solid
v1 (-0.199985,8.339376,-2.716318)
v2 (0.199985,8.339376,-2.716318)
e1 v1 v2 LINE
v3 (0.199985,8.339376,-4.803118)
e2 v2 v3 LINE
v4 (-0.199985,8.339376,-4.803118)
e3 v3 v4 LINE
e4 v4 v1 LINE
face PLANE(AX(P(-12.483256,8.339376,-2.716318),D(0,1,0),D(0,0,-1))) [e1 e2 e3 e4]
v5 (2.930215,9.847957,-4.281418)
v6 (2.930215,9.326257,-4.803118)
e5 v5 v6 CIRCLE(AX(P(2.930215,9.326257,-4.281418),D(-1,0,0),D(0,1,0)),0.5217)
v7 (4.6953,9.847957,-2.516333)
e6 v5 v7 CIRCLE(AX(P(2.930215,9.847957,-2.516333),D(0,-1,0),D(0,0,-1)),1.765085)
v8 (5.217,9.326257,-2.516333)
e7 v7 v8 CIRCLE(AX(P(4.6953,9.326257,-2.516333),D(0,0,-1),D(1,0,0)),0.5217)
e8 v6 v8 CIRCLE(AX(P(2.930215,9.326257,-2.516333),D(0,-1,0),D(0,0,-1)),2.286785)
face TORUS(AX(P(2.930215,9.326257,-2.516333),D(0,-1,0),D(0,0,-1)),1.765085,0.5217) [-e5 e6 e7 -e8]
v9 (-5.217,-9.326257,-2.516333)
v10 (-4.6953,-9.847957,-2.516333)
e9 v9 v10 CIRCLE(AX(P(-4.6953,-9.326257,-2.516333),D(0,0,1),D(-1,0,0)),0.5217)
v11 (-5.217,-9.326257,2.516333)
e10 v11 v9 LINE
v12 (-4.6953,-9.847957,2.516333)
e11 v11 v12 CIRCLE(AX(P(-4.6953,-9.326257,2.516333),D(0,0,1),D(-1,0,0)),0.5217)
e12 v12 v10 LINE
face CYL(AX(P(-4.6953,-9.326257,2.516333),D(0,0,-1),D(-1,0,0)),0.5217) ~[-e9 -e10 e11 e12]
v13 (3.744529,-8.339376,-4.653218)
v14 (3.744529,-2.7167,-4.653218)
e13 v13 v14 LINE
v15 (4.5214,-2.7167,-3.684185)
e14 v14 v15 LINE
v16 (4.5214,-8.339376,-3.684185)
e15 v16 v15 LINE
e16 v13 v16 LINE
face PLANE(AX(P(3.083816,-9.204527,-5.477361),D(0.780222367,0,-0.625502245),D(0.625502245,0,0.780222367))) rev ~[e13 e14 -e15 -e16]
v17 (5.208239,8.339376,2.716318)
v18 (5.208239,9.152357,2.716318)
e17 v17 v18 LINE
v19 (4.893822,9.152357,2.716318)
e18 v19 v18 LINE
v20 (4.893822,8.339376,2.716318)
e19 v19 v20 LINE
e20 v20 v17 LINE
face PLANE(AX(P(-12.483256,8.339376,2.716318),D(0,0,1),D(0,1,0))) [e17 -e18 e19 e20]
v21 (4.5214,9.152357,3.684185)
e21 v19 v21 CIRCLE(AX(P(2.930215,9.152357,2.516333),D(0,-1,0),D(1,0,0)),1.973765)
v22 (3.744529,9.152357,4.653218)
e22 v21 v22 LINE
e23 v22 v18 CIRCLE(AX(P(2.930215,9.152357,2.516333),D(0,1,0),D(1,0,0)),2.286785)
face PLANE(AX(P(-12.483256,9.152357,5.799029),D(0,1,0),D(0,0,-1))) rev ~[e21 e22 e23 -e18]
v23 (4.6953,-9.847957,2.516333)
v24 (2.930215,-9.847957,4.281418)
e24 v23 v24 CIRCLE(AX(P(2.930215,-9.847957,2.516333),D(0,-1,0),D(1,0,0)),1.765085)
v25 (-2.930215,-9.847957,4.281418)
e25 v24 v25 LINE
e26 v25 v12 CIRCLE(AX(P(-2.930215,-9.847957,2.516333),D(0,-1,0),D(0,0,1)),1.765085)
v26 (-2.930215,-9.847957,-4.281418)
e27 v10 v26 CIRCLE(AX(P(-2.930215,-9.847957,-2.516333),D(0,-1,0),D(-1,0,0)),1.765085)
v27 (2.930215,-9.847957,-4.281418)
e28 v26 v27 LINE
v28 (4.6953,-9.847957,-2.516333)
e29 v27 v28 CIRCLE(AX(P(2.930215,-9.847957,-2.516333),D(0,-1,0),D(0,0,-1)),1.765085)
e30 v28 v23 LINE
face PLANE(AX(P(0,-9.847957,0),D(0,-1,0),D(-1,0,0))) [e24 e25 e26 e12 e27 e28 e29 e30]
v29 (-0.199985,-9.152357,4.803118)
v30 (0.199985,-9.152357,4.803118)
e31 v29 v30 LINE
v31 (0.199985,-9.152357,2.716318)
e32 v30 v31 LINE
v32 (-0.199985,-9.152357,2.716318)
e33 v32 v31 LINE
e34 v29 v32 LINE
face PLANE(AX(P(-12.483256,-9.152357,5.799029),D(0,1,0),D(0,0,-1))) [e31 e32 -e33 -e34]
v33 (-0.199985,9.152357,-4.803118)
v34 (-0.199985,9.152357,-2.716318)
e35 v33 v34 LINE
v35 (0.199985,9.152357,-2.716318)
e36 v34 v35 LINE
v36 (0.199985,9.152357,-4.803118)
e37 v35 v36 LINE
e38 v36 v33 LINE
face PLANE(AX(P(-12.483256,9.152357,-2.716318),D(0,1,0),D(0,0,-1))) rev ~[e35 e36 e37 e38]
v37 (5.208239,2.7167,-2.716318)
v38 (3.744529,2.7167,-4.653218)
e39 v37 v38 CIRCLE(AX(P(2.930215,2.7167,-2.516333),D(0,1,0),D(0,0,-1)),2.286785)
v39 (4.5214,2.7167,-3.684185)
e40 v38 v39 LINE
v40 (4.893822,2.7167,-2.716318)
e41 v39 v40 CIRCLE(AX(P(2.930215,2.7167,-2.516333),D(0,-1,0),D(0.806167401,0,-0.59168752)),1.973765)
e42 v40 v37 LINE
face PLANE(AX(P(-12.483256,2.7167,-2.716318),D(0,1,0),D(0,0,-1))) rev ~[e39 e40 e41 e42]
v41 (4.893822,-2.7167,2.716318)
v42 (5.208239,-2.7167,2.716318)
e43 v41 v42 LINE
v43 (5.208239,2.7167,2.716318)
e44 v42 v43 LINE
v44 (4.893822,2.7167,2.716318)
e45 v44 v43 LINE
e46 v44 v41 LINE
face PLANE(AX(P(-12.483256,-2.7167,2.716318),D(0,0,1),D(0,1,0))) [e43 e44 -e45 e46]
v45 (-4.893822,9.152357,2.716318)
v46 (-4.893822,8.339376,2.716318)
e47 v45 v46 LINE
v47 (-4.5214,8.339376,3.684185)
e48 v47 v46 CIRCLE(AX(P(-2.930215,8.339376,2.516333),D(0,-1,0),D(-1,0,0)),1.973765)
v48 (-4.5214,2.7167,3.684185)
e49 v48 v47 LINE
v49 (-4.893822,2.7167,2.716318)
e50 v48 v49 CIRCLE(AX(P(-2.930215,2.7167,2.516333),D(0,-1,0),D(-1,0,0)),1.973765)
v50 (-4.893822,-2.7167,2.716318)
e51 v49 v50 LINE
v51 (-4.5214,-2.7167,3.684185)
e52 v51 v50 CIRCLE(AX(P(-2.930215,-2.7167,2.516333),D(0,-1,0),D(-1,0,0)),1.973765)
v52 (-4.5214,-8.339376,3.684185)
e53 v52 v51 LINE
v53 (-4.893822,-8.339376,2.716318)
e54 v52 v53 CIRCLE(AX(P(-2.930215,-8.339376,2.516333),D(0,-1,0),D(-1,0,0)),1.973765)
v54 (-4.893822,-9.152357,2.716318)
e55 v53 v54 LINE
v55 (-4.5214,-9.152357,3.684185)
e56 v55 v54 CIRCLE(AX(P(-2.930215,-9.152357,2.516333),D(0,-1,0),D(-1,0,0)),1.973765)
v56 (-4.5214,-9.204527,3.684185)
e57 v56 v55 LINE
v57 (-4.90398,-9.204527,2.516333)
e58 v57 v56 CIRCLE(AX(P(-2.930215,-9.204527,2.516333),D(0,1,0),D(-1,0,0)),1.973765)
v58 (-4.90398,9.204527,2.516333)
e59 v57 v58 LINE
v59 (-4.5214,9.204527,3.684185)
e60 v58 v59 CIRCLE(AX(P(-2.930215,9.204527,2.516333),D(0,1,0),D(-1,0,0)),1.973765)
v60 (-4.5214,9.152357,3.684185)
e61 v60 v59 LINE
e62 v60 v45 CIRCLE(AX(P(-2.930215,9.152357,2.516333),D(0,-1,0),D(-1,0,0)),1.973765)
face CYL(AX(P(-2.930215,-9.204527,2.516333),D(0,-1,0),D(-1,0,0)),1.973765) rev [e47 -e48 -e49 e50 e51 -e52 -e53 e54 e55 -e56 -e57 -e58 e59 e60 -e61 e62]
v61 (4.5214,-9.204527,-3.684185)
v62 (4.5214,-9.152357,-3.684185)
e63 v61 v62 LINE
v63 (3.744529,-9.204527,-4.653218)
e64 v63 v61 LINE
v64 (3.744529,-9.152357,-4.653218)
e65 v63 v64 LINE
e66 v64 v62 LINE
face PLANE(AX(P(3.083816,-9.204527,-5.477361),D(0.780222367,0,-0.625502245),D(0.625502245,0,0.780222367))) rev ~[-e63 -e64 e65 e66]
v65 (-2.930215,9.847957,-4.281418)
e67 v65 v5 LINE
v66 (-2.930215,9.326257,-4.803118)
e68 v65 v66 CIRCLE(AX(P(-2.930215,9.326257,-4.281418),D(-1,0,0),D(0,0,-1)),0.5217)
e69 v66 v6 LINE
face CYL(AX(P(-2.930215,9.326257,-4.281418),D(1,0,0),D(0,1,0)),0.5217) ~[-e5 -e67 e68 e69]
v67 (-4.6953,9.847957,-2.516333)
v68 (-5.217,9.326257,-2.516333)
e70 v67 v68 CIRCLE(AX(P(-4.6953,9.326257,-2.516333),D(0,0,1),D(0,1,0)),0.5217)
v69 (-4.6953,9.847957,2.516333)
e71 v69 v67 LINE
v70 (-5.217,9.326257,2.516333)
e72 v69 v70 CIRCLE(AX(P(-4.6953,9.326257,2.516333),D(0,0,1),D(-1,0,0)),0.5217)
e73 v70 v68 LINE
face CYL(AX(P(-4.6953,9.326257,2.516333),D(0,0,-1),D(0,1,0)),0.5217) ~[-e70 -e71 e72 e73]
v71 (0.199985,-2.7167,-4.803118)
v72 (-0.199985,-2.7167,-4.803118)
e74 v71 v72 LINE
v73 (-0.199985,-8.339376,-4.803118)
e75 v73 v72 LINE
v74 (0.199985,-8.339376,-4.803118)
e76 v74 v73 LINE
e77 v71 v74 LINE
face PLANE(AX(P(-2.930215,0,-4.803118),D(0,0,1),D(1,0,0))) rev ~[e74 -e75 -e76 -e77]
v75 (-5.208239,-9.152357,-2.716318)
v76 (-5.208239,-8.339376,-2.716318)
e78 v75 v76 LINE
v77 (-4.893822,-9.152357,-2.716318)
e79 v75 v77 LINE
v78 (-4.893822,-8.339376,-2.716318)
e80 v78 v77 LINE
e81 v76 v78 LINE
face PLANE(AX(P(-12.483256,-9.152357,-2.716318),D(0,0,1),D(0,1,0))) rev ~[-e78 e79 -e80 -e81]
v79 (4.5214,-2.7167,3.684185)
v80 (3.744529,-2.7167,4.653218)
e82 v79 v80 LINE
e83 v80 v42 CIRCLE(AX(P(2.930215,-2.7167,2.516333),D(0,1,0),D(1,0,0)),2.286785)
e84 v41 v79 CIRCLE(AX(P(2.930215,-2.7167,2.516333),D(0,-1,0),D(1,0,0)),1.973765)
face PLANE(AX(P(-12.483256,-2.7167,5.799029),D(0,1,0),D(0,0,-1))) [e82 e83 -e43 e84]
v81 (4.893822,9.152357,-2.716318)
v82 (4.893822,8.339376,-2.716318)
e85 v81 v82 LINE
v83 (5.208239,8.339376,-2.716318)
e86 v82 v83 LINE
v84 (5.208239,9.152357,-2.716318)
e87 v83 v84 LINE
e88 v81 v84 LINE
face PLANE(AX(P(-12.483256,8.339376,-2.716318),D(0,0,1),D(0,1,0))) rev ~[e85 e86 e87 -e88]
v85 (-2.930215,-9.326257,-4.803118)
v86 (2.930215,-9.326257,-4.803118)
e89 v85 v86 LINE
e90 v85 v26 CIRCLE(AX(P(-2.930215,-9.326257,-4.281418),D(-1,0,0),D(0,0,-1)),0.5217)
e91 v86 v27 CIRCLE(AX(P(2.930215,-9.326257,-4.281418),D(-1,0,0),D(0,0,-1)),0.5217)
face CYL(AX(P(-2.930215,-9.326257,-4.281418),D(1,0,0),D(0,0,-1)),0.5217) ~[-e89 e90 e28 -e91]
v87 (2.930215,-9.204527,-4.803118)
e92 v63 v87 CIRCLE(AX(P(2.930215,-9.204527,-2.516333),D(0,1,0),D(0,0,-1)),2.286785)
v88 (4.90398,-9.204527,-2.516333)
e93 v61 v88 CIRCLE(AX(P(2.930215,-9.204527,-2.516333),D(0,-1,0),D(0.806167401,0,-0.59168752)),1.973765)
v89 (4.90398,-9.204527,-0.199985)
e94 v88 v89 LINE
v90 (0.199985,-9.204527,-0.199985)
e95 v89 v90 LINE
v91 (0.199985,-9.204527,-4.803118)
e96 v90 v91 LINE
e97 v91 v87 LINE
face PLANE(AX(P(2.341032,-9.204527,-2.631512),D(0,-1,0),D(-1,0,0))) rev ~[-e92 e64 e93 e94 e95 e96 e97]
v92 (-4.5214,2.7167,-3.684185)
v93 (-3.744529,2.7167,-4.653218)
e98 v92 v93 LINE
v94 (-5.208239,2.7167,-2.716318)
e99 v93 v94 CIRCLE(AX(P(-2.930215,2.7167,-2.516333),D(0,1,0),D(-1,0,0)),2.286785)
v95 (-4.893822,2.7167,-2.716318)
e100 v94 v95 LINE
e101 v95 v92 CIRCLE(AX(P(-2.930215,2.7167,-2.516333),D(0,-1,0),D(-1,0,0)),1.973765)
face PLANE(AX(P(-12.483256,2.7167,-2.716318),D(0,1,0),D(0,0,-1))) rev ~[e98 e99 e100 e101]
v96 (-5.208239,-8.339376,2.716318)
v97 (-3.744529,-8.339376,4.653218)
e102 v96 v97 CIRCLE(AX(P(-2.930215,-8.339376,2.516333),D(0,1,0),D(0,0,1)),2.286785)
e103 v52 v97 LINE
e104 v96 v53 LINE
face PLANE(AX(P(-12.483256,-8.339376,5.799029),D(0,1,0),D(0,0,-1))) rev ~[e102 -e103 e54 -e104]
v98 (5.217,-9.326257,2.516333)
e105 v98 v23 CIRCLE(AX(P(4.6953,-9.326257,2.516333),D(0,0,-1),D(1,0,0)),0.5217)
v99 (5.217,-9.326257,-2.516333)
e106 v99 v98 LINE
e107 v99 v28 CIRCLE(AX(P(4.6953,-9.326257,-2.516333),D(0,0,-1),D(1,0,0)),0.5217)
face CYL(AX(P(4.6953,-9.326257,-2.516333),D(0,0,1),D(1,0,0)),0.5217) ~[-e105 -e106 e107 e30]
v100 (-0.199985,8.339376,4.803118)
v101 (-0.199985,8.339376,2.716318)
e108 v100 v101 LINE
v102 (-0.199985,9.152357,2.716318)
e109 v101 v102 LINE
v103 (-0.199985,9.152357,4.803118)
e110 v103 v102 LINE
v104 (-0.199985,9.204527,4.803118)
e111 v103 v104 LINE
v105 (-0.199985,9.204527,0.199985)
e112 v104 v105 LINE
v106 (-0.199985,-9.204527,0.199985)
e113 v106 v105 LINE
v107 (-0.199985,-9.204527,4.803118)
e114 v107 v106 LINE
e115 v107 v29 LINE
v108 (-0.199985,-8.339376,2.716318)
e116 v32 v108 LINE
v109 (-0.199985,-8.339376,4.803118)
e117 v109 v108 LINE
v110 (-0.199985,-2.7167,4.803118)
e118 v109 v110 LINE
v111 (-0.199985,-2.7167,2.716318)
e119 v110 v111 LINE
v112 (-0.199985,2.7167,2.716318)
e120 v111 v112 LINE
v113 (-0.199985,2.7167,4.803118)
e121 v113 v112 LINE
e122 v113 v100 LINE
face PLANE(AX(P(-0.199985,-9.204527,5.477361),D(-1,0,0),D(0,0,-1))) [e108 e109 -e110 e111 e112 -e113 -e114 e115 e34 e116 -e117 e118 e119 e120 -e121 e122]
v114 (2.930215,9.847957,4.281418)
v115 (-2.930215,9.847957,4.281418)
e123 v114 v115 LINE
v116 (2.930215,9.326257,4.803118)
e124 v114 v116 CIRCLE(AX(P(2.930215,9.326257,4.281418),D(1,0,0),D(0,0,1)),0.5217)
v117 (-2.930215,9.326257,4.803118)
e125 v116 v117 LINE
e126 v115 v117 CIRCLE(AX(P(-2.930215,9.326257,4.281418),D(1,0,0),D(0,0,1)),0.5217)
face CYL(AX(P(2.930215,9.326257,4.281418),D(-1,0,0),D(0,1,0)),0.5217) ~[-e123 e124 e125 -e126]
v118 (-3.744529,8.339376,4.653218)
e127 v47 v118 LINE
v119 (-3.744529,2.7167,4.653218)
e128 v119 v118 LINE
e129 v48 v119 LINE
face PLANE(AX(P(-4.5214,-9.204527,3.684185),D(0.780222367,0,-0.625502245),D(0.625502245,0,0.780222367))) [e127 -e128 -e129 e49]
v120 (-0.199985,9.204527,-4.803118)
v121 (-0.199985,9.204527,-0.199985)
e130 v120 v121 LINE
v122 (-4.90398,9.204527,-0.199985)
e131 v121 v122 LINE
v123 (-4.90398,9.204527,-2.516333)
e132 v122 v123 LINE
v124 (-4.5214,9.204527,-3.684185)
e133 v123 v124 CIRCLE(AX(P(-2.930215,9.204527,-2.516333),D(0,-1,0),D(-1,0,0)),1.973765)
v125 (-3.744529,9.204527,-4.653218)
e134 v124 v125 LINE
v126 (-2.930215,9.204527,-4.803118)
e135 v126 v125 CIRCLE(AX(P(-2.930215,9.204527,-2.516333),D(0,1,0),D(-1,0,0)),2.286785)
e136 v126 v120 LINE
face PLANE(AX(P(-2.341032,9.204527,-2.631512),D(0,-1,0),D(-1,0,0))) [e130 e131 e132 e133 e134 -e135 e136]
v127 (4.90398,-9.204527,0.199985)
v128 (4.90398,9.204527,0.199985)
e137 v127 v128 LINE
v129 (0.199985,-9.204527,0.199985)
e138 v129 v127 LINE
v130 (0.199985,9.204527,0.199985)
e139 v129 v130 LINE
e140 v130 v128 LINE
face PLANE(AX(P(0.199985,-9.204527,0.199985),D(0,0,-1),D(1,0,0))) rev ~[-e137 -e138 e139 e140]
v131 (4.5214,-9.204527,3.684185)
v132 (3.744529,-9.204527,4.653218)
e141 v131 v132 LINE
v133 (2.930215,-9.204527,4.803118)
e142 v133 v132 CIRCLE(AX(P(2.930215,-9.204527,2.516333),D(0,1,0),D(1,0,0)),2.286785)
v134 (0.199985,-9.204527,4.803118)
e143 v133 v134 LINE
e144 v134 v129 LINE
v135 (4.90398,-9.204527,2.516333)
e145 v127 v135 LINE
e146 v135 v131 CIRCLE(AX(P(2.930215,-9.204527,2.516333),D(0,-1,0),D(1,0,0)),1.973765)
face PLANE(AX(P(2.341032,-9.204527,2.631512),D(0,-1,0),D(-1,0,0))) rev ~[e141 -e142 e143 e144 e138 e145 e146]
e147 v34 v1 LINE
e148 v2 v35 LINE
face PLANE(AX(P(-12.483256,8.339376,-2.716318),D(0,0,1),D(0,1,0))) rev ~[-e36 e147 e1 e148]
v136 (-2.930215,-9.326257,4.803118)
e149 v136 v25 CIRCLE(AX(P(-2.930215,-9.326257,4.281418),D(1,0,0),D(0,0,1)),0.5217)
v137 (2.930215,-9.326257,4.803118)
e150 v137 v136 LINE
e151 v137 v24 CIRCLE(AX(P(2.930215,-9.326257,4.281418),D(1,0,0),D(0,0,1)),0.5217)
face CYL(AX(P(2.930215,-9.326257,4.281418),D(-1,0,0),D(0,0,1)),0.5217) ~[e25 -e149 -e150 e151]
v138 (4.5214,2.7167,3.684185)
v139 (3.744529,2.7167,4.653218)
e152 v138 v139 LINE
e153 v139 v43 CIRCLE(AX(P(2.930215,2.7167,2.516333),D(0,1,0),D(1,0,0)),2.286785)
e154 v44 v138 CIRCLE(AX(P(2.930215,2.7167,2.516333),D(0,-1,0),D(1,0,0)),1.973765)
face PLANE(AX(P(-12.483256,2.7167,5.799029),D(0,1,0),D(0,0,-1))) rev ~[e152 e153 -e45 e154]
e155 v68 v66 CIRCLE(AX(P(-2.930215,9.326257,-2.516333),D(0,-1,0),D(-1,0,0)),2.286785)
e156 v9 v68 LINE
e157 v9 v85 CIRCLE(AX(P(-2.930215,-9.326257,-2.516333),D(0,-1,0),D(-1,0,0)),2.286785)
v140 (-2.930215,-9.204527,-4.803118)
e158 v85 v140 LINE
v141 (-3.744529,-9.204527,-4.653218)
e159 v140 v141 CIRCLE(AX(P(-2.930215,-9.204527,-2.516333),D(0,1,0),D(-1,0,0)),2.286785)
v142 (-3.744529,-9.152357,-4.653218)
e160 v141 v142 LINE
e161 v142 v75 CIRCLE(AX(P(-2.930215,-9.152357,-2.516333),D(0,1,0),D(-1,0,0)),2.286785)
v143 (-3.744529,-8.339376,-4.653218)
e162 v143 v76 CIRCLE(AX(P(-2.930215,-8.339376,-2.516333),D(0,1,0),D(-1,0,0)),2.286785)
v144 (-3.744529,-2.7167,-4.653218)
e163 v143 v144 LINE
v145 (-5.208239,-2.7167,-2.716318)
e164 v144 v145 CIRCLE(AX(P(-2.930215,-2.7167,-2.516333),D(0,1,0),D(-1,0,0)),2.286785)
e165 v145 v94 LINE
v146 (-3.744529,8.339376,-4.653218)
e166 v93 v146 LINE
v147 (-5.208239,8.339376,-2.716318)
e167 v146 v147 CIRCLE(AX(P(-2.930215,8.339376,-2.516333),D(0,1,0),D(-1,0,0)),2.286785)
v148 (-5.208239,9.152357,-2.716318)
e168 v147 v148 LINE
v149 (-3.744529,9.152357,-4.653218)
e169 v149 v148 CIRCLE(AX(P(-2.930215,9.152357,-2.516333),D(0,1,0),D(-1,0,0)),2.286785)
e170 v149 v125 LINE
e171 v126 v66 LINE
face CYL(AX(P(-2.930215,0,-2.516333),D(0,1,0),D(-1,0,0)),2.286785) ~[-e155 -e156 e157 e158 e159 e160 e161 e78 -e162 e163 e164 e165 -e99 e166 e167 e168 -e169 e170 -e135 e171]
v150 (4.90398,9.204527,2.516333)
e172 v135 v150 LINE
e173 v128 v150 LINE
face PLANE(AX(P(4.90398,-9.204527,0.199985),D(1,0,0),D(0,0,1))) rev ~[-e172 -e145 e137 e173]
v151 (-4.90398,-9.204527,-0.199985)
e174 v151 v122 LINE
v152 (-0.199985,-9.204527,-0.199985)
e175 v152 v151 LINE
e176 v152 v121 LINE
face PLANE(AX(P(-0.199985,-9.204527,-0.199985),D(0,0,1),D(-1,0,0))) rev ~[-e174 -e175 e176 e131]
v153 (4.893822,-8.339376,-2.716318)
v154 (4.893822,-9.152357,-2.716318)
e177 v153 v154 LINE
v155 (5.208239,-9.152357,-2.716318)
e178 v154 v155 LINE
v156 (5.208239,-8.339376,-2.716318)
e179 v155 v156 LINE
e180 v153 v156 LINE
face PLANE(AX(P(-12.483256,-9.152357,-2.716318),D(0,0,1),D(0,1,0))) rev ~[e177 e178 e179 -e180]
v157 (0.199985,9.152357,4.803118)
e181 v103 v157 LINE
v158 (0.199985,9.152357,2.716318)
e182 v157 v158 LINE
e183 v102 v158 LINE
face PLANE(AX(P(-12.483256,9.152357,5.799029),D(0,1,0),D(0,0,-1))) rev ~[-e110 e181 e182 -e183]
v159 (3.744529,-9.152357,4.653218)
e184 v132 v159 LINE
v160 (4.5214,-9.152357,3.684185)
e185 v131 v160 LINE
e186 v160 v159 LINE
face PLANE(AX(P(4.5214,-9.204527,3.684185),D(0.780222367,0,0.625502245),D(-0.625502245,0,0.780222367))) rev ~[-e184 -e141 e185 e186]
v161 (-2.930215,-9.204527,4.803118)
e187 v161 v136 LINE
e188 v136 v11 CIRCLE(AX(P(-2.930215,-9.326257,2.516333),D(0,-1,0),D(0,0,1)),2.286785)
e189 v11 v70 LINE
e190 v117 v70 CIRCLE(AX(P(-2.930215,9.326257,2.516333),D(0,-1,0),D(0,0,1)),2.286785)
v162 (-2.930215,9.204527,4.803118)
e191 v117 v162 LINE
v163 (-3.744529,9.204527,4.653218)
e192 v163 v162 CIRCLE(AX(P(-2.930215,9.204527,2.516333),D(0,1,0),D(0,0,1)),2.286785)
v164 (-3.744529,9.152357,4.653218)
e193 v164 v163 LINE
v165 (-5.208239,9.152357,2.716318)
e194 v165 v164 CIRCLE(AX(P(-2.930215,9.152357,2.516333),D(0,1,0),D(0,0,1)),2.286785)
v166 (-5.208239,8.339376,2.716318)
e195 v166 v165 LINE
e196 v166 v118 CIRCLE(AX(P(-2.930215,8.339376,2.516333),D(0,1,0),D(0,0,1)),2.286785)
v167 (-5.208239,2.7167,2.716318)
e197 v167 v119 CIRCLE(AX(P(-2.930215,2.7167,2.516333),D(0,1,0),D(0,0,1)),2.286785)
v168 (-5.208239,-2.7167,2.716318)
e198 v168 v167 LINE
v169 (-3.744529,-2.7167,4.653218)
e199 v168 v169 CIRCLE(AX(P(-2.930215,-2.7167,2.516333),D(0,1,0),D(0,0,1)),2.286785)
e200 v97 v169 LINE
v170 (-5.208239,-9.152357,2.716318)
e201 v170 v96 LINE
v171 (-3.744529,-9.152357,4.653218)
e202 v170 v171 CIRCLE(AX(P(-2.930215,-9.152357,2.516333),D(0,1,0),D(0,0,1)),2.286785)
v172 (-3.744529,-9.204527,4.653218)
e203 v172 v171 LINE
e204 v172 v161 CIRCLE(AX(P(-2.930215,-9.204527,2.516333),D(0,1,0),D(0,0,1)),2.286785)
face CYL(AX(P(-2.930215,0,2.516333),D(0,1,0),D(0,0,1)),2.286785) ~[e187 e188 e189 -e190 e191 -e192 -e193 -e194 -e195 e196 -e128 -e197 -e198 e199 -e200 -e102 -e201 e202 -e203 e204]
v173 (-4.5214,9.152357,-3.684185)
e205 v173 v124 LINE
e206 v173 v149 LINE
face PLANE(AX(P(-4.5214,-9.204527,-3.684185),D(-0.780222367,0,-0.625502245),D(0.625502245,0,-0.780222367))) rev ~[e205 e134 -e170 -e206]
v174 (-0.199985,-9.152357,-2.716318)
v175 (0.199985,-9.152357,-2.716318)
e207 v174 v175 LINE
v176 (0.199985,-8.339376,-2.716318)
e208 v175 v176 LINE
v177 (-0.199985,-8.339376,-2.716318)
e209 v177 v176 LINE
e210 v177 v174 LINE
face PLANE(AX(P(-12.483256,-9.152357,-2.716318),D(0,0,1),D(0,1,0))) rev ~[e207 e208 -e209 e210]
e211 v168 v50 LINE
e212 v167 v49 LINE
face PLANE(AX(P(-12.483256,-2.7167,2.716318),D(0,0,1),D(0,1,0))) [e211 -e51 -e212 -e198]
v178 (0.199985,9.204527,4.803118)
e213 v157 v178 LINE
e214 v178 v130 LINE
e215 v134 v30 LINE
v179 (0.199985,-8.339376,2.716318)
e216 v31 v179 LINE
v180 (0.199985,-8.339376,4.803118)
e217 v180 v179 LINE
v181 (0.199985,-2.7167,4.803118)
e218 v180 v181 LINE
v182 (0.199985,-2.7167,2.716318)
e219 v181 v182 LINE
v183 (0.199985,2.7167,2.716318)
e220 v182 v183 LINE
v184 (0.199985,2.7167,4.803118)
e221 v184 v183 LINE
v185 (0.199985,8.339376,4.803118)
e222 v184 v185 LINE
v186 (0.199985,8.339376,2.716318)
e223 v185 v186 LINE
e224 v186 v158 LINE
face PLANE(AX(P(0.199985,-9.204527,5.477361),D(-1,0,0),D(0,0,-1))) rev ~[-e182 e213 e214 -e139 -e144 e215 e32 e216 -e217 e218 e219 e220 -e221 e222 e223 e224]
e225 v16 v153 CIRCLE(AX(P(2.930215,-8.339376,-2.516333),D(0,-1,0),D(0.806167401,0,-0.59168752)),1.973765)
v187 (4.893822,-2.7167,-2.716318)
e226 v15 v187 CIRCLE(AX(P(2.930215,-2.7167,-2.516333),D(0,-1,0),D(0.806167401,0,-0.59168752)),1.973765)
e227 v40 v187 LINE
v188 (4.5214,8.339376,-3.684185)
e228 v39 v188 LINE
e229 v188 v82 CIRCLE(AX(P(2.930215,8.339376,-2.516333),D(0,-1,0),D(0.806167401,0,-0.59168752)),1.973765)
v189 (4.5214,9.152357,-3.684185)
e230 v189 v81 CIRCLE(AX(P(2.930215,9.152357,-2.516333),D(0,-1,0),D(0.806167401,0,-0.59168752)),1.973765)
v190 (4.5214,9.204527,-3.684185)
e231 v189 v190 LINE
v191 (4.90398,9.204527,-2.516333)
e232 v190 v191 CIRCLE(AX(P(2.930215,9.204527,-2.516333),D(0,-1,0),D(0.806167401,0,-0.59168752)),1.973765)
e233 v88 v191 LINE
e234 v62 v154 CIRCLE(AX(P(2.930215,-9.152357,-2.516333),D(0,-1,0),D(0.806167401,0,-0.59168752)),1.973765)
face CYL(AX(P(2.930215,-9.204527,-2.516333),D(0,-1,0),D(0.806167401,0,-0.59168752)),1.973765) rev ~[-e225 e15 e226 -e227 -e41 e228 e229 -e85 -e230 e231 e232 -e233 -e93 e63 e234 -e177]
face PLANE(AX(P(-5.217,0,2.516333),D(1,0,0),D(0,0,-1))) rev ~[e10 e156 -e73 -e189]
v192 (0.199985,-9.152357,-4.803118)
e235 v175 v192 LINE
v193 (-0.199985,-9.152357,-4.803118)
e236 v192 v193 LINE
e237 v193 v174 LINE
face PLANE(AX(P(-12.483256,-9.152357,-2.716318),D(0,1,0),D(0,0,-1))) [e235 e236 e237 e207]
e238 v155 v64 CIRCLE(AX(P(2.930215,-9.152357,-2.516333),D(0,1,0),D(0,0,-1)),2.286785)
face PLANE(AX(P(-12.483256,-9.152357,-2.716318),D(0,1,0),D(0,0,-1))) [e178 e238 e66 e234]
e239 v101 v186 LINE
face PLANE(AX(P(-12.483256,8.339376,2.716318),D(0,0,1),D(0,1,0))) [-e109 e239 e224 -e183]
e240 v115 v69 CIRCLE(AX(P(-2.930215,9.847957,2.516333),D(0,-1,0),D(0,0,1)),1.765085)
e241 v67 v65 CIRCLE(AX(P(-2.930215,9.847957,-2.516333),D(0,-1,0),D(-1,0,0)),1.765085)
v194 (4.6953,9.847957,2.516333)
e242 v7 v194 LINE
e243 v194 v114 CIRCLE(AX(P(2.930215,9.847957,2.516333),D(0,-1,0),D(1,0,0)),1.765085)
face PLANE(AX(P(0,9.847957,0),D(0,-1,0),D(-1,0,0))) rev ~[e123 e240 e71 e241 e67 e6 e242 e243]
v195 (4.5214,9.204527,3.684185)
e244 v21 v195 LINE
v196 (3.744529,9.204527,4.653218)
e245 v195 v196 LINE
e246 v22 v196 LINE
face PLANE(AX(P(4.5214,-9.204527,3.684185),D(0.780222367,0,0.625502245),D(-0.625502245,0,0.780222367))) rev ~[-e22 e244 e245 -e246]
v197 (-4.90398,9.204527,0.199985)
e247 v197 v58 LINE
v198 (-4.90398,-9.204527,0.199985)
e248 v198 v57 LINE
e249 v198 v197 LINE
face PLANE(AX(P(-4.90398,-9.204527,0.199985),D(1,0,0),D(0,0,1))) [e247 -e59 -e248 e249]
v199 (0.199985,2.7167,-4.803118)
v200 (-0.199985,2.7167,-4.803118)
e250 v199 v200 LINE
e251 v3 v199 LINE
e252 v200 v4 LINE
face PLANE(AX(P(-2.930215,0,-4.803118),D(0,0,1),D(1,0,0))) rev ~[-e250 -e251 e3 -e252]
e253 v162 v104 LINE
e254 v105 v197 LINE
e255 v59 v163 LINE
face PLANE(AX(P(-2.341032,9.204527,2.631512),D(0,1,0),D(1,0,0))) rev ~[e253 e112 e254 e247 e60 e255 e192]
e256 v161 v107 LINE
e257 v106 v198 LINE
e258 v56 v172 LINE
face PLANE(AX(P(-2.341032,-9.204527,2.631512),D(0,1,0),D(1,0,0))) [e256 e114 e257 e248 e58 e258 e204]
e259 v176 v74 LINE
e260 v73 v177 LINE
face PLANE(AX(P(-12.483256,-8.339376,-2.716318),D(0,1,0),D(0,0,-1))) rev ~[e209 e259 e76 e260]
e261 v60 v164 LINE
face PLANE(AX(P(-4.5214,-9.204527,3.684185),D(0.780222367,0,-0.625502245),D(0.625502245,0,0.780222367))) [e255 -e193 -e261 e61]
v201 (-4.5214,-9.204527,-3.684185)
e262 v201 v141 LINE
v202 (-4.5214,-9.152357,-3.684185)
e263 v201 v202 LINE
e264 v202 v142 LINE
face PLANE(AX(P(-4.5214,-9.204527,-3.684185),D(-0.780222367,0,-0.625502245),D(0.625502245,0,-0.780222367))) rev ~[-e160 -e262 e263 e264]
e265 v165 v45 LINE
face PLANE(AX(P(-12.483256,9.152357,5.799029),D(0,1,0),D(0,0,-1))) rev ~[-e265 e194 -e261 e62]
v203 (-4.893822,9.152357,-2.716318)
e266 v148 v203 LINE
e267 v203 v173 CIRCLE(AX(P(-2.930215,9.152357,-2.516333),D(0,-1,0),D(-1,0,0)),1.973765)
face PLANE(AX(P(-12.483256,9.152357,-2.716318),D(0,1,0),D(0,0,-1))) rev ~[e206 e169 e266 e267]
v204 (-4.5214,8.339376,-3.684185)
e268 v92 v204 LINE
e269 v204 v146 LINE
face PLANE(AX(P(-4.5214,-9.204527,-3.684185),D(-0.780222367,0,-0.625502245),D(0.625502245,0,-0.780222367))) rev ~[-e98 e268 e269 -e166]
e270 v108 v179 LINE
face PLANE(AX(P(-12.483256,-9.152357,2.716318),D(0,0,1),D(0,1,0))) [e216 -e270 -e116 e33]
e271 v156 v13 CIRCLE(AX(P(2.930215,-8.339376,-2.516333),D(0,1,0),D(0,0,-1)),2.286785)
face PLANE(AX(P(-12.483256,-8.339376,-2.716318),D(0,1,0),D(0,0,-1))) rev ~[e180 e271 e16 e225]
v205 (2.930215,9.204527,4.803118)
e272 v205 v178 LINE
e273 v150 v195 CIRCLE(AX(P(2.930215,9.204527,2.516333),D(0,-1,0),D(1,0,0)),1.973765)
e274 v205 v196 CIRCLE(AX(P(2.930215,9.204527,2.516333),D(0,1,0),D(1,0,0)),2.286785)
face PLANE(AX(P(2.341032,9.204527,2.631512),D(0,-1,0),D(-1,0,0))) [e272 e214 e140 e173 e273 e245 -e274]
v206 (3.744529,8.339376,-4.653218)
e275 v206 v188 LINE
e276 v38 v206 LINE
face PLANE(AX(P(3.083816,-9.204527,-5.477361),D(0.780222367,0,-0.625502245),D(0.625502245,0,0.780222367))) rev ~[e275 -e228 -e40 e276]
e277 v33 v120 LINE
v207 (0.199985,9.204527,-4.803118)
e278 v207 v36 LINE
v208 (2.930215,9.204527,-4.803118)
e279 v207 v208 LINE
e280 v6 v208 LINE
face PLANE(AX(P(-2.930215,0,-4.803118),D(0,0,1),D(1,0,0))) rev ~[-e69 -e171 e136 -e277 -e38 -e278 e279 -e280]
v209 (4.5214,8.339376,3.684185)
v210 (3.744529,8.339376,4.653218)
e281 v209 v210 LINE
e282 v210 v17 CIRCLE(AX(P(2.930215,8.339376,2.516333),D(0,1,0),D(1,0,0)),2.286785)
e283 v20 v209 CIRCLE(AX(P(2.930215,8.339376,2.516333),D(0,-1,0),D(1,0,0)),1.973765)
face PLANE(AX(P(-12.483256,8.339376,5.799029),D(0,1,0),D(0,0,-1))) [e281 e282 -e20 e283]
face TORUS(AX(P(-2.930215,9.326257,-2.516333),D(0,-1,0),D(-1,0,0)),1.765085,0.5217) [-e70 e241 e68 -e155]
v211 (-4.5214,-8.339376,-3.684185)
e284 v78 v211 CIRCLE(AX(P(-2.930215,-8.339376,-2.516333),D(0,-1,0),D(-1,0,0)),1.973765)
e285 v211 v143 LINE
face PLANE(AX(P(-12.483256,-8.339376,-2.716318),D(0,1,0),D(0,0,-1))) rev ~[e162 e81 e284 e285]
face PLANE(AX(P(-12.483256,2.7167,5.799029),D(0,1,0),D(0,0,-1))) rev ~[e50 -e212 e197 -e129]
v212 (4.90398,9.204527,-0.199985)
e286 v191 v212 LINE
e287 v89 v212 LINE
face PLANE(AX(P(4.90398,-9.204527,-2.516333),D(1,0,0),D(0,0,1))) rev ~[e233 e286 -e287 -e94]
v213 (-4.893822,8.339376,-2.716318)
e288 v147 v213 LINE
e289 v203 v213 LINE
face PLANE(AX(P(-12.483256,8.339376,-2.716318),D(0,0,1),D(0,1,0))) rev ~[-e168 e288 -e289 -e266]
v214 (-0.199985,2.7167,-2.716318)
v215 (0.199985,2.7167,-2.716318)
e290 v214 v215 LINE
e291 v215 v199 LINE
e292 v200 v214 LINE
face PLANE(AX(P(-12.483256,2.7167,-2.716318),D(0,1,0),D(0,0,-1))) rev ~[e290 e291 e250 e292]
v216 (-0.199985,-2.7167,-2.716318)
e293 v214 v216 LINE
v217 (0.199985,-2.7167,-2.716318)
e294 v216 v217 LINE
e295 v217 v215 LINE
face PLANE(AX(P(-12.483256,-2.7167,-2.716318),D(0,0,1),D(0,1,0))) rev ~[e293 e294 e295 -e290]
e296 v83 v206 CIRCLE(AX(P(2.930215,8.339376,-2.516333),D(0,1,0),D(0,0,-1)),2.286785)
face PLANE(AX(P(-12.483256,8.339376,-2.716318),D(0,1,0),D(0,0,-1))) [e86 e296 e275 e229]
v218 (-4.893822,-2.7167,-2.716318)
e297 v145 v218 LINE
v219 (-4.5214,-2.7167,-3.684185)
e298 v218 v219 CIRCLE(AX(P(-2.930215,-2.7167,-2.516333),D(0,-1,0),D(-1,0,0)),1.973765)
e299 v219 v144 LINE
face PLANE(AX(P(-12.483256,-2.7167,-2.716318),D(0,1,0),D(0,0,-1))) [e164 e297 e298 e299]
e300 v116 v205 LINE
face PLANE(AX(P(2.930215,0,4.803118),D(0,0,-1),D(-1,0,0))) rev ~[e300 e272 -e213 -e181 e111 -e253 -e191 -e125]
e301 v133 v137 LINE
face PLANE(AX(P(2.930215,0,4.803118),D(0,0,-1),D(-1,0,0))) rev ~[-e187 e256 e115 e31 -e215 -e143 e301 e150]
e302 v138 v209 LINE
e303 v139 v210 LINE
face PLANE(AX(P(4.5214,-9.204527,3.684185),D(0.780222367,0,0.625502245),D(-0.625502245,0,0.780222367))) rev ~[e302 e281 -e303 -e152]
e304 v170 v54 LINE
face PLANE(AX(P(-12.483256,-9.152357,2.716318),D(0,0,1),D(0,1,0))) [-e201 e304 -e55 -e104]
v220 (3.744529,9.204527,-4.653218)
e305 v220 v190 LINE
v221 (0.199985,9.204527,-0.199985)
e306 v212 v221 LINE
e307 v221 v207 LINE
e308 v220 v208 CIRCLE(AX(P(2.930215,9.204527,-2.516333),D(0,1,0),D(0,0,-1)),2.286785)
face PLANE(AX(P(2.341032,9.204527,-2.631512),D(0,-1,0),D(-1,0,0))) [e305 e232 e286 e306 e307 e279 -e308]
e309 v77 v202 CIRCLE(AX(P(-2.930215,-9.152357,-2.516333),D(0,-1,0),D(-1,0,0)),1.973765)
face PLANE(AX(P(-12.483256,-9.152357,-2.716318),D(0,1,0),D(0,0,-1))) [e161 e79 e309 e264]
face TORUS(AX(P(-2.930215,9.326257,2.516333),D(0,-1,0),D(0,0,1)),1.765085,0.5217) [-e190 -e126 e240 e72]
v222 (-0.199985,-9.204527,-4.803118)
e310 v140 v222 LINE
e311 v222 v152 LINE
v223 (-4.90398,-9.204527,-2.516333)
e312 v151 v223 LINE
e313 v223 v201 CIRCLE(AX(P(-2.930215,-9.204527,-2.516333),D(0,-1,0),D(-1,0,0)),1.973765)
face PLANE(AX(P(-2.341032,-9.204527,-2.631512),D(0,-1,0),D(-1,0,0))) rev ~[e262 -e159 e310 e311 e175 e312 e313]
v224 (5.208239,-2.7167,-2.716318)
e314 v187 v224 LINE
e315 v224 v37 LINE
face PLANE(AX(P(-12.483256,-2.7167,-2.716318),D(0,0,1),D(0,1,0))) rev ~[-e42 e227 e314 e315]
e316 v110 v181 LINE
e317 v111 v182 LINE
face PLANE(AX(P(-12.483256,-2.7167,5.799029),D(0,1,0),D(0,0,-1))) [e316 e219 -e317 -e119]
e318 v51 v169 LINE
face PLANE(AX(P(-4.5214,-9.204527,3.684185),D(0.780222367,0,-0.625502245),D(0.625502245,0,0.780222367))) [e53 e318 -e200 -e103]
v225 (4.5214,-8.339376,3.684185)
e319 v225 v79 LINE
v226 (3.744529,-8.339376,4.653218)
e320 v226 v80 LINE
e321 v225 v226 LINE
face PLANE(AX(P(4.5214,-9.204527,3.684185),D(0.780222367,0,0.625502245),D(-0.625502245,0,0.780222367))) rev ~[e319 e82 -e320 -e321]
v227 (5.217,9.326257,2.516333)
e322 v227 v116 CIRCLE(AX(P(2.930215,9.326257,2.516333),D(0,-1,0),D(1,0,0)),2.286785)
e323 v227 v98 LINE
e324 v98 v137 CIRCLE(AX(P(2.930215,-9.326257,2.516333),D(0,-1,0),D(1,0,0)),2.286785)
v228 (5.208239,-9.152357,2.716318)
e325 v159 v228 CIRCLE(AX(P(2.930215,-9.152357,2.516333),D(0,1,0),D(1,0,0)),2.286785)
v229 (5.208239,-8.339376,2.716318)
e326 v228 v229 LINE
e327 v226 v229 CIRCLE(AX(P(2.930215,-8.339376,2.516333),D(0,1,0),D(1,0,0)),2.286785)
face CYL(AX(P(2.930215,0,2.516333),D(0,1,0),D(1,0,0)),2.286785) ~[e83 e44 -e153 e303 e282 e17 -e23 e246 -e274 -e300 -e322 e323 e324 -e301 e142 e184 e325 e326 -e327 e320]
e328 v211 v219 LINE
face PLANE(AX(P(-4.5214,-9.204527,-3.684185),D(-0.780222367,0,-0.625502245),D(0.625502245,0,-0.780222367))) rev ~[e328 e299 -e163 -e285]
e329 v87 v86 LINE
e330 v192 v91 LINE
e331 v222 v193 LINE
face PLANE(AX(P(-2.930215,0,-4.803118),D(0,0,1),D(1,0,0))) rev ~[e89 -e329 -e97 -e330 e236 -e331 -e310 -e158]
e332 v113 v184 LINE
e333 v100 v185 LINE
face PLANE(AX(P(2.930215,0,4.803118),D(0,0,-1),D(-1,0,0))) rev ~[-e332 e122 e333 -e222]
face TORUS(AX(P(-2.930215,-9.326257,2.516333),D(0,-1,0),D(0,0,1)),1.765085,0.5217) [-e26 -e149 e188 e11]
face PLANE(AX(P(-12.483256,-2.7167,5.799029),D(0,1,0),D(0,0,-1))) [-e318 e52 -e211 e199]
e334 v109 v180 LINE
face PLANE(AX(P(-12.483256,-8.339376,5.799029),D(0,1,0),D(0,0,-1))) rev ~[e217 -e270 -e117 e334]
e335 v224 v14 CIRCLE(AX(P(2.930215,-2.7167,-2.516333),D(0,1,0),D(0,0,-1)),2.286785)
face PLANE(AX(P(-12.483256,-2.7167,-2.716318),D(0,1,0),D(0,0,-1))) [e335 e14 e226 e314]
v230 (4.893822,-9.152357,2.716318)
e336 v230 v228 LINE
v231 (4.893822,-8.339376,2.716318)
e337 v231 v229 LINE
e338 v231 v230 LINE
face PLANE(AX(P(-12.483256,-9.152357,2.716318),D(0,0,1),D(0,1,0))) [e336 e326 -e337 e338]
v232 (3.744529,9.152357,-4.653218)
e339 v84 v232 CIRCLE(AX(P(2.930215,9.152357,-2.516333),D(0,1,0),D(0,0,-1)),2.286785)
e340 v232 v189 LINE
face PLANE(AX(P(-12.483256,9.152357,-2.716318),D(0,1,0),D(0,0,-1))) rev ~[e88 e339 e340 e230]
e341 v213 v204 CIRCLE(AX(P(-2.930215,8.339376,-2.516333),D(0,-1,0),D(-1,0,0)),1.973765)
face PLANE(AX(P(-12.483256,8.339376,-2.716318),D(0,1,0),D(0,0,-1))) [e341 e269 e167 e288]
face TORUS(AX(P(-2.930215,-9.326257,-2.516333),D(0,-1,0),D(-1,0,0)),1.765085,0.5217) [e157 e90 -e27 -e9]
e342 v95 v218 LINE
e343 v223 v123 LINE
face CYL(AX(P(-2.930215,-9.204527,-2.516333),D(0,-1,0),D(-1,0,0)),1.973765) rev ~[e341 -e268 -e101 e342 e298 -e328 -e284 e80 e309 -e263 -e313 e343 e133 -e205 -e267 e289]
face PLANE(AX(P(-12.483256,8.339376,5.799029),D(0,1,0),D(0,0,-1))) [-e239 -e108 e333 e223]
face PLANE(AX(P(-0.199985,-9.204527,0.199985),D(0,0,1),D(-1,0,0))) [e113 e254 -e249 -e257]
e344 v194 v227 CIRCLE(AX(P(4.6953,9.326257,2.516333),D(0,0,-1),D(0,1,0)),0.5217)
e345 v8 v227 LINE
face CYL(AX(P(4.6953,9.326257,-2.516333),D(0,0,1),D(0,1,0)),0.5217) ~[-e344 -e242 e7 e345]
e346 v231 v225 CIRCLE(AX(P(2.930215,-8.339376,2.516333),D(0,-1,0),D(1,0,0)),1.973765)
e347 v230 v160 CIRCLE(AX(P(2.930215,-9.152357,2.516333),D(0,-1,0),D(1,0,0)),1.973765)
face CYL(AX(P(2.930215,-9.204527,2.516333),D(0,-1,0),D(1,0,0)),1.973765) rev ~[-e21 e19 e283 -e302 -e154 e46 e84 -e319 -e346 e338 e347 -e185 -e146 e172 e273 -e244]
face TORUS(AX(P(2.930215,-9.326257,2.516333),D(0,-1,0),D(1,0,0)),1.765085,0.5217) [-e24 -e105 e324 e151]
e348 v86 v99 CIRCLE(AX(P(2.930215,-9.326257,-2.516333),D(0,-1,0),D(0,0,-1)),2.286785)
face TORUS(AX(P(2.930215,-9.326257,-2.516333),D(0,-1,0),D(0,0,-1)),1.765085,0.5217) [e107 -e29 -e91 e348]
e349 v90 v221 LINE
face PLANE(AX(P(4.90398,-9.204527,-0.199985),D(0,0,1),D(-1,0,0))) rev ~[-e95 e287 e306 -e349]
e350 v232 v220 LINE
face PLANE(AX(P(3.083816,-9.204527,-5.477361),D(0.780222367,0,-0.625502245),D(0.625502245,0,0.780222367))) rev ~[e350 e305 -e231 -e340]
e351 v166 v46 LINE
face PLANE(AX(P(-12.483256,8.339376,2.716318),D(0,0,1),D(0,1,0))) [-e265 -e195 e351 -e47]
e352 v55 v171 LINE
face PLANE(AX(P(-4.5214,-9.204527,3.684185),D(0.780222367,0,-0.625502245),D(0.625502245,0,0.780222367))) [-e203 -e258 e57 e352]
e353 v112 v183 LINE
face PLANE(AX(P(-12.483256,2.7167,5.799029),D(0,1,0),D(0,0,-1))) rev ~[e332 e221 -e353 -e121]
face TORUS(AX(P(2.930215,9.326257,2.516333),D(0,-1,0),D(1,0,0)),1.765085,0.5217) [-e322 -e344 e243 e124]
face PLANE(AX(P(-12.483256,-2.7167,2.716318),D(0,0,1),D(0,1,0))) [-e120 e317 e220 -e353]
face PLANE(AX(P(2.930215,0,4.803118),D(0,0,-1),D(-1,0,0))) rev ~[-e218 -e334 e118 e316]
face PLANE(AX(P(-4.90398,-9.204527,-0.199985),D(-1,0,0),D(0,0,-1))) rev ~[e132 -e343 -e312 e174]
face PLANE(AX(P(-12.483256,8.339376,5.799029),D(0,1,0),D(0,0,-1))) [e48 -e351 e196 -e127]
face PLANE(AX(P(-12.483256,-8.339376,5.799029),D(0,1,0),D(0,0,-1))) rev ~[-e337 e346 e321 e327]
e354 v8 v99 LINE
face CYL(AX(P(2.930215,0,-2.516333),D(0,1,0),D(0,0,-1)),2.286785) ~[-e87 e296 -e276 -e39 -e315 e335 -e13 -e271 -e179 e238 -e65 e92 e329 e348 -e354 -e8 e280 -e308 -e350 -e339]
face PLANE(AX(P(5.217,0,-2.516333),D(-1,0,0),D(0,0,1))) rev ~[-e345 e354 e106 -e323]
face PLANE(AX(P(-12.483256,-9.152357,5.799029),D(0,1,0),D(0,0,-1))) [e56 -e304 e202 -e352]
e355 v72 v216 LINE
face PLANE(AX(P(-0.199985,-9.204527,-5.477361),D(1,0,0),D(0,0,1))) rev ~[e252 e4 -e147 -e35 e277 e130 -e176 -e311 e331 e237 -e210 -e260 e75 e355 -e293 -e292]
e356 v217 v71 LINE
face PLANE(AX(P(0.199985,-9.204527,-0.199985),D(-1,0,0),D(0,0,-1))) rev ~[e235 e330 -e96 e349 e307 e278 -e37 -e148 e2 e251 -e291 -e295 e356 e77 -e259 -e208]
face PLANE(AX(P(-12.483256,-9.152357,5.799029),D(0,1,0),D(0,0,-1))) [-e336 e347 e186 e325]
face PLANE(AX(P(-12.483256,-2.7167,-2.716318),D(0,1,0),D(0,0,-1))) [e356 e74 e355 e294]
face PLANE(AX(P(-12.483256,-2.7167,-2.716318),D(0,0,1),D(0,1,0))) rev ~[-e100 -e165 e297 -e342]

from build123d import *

# Parameters (mm, degrees)
BOSS_EXTRUDE1_DEPTH     = 28.315
FILLET1_R               = 1.5
CUT_EXTRUDE2_DEPTH      = 26.465
CUT_EXTRUDE2_DEPTH_BACK = 26.465
CUT_EXTRUDE3_DEPTH      = 35.892052501
CUT_EXTRUDE3_DEPTH_BACK = 35.892052501
SKETCH7_W               = 8.863459335
SKETCH7_H               = 15.62219905
SKETCH7_H_2             = 2.337495039
SCALE1_SCALE            = 0.3478


with BuildPart() as part:
    # Sketch1 → Boss-Extrude1 (new, symmetric)
    with BuildSketch(Plane(origin=(0, 0, 0), x_dir=(1, 0, 0), z_dir=(0, 1, 0))):
        with BuildLine():
            Line((-8.425, 13.81), (8.425, 13.81))
            ThreePointArc((8.425, 13.81), (13.074227086, 11.884227086), (15, 7.235))
            Line((15, 7.235), (15, -7.235))
            ThreePointArc((15, -7.235), (13.074227086, -11.884227086), (8.425, -13.81))
            Line((8.425, -13.81), (-8.425, -13.81))
            ThreePointArc((-8.425, -13.81), (-13.074227086, -11.884227086), (-15, -7.235))
            Line((-15, -7.235), (-15, 7.235))
            ThreePointArc((-15, 7.235), (-13.074227086, 11.884227086), (-8.425, 13.81))
        make_face()
    extrude(amount=BOSS_EXTRUDE1_DEPTH, both=True)

    # Fillet1
    fillet1_edges = [part.edges().sort_by_distance(p)[0] for p in [
        (0, -28.315, 13.81),
        (-13.074227086, -28.315, 11.884227086),
        (-15, -28.315, 0),
        (-13.074227086, -28.315, -11.884227086),
        (-13.074227086, 28.315, 11.884227086),
        (0, 28.315, 13.81),
        (13.074227086, 28.315, 11.884227086),
        (15, 28.315, 0),
        (13.074227086, 28.315, -11.884227086),
        (0, 28.315, -13.81),
        (-13.074227086, 28.315, -11.884227086),
        (0, -28.315, -13.81),
        (-15, 28.315, 0),
        (13.074227086, -28.315, -11.884227086),
        (15, -28.315, 0),
        (13.074227086, -28.315, 11.884227086),
    ]]
    fillet(fillet1_edges, radius=FILLET1_R)

    # Sketch6 → Cut-Extrude2 (cut, two sides: drawn at the far end of the back side and taken through both)
    with BuildSketch(Plane(origin=(0, 0, 0), x_dir=(1, 0, 0), z_dir=(0, 1, 0)).offset(-CUT_EXTRUDE2_DEPTH_BACK)):
        with BuildLine():
            Line((-0.575, -0.575), (-14.1, -0.575))
            Line((-14.1, -0.575), (-14.1, -7.235))
            ThreePointArc((-14.1, -7.235), (-13.817993139, -9.001705974), (-13, -10.592826678))
            Line((-13, -10.592826678), (-8.866634788, -15.748593929))
            Line((-8.866634788, -15.748593929), (-0.575, -15.748593929))
            Line((-0.575, -15.748593929), (-0.575, -7.235))
            Line((-0.575, -7.235), (-0.575, -0.575))
        make_face()
        with BuildLine():
            Line((14.1, -0.575), (14.1, -7.235))
            ThreePointArc((14.1, -7.235), (13.817993139, -9.001705974), (13, -10.592826678))
            Line((13, -10.592826678), (8.866634788, -15.748593929))
            Line((8.866634788, -15.748593929), (0.575, -15.748593929))
            Line((0.575, -15.748593929), (0.575, -7.235))
            Line((0.575, -7.235), (0.575, -0.575))
            Line((0.575, -0.575), (14.1, -0.575))
        make_face()
        with BuildLine():
            Line((0.575, 0.575), (0.575, 7.235))
            Line((0.575, 7.235), (0.575, 15.748593929))
            Line((0.575, 15.748593929), (8.866634788, 15.748593929))
            Line((8.866634788, 15.748593929), (13, 10.592826678))
            ThreePointArc((13, 10.592826678), (13.817993139, 9.001705974), (14.1, 7.235))
            Line((14.1, 7.235), (14.1, 0.575))
            Line((14.1, 0.575), (0.575, 0.575))
        make_face()
        with BuildLine():
            Line((-14.1, 0.575), (-14.1, 7.235))
            ThreePointArc((-14.1, 7.235), (-13.817993139, 9.001705974), (-13, 10.592826678))
            Line((-13, 10.592826678), (-8.866634788, 15.748593929))
            Line((-8.866634788, 15.748593929), (-0.575, 15.748593929))
            Line((-0.575, 15.748593929), (-0.575, 7.235))
            Line((-0.575, 7.235), (-0.575, 0.575))
            Line((-0.575, 0.575), (-14.1, 0.575))
        make_face()
    extrude(amount=CUT_EXTRUDE2_DEPTH + CUT_EXTRUDE2_DEPTH_BACK, mode=Mode.SUBTRACT)

    # Sketch7 → Cut-Extrude3 (cut, two sides: drawn at the far end of the back side and taken through both)
    with BuildSketch(Plane(origin=(0, 0, 0), x_dir=(0, 0, -1), z_dir=(1, 0, 0)).offset(-CUT_EXTRUDE3_DEPTH_BACK)):
        with Locations((-12.241729667, 0)):
            Rectangle(SKETCH7_W, SKETCH7_H)
        with Locations((12.241729667, 0)):
            Rectangle(SKETCH7_W, SKETCH7_H)
        with Locations((-12.241729667, -25.146252481)):
            Rectangle(SKETCH7_W, SKETCH7_H_2)
        with Locations((-12.241729667, 25.146252481)):
            Rectangle(SKETCH7_W, SKETCH7_H_2)
        with Locations((12.241729667, 25.146252481)):
            Rectangle(SKETCH7_W, SKETCH7_H_2)
        with Locations((12.241729667, -25.146252481)):
            Rectangle(SKETCH7_W, SKETCH7_H_2)
    extrude(amount=CUT_EXTRUDE3_DEPTH + CUT_EXTRUDE3_DEPTH_BACK, mode=Mode.SUBTRACT)


with BuildPart() as part_1:
    # Scale1: scaled about (0, 0, 0)
    add(part.part.scale(SCALE1_SCALE))


solid = part_1.part
